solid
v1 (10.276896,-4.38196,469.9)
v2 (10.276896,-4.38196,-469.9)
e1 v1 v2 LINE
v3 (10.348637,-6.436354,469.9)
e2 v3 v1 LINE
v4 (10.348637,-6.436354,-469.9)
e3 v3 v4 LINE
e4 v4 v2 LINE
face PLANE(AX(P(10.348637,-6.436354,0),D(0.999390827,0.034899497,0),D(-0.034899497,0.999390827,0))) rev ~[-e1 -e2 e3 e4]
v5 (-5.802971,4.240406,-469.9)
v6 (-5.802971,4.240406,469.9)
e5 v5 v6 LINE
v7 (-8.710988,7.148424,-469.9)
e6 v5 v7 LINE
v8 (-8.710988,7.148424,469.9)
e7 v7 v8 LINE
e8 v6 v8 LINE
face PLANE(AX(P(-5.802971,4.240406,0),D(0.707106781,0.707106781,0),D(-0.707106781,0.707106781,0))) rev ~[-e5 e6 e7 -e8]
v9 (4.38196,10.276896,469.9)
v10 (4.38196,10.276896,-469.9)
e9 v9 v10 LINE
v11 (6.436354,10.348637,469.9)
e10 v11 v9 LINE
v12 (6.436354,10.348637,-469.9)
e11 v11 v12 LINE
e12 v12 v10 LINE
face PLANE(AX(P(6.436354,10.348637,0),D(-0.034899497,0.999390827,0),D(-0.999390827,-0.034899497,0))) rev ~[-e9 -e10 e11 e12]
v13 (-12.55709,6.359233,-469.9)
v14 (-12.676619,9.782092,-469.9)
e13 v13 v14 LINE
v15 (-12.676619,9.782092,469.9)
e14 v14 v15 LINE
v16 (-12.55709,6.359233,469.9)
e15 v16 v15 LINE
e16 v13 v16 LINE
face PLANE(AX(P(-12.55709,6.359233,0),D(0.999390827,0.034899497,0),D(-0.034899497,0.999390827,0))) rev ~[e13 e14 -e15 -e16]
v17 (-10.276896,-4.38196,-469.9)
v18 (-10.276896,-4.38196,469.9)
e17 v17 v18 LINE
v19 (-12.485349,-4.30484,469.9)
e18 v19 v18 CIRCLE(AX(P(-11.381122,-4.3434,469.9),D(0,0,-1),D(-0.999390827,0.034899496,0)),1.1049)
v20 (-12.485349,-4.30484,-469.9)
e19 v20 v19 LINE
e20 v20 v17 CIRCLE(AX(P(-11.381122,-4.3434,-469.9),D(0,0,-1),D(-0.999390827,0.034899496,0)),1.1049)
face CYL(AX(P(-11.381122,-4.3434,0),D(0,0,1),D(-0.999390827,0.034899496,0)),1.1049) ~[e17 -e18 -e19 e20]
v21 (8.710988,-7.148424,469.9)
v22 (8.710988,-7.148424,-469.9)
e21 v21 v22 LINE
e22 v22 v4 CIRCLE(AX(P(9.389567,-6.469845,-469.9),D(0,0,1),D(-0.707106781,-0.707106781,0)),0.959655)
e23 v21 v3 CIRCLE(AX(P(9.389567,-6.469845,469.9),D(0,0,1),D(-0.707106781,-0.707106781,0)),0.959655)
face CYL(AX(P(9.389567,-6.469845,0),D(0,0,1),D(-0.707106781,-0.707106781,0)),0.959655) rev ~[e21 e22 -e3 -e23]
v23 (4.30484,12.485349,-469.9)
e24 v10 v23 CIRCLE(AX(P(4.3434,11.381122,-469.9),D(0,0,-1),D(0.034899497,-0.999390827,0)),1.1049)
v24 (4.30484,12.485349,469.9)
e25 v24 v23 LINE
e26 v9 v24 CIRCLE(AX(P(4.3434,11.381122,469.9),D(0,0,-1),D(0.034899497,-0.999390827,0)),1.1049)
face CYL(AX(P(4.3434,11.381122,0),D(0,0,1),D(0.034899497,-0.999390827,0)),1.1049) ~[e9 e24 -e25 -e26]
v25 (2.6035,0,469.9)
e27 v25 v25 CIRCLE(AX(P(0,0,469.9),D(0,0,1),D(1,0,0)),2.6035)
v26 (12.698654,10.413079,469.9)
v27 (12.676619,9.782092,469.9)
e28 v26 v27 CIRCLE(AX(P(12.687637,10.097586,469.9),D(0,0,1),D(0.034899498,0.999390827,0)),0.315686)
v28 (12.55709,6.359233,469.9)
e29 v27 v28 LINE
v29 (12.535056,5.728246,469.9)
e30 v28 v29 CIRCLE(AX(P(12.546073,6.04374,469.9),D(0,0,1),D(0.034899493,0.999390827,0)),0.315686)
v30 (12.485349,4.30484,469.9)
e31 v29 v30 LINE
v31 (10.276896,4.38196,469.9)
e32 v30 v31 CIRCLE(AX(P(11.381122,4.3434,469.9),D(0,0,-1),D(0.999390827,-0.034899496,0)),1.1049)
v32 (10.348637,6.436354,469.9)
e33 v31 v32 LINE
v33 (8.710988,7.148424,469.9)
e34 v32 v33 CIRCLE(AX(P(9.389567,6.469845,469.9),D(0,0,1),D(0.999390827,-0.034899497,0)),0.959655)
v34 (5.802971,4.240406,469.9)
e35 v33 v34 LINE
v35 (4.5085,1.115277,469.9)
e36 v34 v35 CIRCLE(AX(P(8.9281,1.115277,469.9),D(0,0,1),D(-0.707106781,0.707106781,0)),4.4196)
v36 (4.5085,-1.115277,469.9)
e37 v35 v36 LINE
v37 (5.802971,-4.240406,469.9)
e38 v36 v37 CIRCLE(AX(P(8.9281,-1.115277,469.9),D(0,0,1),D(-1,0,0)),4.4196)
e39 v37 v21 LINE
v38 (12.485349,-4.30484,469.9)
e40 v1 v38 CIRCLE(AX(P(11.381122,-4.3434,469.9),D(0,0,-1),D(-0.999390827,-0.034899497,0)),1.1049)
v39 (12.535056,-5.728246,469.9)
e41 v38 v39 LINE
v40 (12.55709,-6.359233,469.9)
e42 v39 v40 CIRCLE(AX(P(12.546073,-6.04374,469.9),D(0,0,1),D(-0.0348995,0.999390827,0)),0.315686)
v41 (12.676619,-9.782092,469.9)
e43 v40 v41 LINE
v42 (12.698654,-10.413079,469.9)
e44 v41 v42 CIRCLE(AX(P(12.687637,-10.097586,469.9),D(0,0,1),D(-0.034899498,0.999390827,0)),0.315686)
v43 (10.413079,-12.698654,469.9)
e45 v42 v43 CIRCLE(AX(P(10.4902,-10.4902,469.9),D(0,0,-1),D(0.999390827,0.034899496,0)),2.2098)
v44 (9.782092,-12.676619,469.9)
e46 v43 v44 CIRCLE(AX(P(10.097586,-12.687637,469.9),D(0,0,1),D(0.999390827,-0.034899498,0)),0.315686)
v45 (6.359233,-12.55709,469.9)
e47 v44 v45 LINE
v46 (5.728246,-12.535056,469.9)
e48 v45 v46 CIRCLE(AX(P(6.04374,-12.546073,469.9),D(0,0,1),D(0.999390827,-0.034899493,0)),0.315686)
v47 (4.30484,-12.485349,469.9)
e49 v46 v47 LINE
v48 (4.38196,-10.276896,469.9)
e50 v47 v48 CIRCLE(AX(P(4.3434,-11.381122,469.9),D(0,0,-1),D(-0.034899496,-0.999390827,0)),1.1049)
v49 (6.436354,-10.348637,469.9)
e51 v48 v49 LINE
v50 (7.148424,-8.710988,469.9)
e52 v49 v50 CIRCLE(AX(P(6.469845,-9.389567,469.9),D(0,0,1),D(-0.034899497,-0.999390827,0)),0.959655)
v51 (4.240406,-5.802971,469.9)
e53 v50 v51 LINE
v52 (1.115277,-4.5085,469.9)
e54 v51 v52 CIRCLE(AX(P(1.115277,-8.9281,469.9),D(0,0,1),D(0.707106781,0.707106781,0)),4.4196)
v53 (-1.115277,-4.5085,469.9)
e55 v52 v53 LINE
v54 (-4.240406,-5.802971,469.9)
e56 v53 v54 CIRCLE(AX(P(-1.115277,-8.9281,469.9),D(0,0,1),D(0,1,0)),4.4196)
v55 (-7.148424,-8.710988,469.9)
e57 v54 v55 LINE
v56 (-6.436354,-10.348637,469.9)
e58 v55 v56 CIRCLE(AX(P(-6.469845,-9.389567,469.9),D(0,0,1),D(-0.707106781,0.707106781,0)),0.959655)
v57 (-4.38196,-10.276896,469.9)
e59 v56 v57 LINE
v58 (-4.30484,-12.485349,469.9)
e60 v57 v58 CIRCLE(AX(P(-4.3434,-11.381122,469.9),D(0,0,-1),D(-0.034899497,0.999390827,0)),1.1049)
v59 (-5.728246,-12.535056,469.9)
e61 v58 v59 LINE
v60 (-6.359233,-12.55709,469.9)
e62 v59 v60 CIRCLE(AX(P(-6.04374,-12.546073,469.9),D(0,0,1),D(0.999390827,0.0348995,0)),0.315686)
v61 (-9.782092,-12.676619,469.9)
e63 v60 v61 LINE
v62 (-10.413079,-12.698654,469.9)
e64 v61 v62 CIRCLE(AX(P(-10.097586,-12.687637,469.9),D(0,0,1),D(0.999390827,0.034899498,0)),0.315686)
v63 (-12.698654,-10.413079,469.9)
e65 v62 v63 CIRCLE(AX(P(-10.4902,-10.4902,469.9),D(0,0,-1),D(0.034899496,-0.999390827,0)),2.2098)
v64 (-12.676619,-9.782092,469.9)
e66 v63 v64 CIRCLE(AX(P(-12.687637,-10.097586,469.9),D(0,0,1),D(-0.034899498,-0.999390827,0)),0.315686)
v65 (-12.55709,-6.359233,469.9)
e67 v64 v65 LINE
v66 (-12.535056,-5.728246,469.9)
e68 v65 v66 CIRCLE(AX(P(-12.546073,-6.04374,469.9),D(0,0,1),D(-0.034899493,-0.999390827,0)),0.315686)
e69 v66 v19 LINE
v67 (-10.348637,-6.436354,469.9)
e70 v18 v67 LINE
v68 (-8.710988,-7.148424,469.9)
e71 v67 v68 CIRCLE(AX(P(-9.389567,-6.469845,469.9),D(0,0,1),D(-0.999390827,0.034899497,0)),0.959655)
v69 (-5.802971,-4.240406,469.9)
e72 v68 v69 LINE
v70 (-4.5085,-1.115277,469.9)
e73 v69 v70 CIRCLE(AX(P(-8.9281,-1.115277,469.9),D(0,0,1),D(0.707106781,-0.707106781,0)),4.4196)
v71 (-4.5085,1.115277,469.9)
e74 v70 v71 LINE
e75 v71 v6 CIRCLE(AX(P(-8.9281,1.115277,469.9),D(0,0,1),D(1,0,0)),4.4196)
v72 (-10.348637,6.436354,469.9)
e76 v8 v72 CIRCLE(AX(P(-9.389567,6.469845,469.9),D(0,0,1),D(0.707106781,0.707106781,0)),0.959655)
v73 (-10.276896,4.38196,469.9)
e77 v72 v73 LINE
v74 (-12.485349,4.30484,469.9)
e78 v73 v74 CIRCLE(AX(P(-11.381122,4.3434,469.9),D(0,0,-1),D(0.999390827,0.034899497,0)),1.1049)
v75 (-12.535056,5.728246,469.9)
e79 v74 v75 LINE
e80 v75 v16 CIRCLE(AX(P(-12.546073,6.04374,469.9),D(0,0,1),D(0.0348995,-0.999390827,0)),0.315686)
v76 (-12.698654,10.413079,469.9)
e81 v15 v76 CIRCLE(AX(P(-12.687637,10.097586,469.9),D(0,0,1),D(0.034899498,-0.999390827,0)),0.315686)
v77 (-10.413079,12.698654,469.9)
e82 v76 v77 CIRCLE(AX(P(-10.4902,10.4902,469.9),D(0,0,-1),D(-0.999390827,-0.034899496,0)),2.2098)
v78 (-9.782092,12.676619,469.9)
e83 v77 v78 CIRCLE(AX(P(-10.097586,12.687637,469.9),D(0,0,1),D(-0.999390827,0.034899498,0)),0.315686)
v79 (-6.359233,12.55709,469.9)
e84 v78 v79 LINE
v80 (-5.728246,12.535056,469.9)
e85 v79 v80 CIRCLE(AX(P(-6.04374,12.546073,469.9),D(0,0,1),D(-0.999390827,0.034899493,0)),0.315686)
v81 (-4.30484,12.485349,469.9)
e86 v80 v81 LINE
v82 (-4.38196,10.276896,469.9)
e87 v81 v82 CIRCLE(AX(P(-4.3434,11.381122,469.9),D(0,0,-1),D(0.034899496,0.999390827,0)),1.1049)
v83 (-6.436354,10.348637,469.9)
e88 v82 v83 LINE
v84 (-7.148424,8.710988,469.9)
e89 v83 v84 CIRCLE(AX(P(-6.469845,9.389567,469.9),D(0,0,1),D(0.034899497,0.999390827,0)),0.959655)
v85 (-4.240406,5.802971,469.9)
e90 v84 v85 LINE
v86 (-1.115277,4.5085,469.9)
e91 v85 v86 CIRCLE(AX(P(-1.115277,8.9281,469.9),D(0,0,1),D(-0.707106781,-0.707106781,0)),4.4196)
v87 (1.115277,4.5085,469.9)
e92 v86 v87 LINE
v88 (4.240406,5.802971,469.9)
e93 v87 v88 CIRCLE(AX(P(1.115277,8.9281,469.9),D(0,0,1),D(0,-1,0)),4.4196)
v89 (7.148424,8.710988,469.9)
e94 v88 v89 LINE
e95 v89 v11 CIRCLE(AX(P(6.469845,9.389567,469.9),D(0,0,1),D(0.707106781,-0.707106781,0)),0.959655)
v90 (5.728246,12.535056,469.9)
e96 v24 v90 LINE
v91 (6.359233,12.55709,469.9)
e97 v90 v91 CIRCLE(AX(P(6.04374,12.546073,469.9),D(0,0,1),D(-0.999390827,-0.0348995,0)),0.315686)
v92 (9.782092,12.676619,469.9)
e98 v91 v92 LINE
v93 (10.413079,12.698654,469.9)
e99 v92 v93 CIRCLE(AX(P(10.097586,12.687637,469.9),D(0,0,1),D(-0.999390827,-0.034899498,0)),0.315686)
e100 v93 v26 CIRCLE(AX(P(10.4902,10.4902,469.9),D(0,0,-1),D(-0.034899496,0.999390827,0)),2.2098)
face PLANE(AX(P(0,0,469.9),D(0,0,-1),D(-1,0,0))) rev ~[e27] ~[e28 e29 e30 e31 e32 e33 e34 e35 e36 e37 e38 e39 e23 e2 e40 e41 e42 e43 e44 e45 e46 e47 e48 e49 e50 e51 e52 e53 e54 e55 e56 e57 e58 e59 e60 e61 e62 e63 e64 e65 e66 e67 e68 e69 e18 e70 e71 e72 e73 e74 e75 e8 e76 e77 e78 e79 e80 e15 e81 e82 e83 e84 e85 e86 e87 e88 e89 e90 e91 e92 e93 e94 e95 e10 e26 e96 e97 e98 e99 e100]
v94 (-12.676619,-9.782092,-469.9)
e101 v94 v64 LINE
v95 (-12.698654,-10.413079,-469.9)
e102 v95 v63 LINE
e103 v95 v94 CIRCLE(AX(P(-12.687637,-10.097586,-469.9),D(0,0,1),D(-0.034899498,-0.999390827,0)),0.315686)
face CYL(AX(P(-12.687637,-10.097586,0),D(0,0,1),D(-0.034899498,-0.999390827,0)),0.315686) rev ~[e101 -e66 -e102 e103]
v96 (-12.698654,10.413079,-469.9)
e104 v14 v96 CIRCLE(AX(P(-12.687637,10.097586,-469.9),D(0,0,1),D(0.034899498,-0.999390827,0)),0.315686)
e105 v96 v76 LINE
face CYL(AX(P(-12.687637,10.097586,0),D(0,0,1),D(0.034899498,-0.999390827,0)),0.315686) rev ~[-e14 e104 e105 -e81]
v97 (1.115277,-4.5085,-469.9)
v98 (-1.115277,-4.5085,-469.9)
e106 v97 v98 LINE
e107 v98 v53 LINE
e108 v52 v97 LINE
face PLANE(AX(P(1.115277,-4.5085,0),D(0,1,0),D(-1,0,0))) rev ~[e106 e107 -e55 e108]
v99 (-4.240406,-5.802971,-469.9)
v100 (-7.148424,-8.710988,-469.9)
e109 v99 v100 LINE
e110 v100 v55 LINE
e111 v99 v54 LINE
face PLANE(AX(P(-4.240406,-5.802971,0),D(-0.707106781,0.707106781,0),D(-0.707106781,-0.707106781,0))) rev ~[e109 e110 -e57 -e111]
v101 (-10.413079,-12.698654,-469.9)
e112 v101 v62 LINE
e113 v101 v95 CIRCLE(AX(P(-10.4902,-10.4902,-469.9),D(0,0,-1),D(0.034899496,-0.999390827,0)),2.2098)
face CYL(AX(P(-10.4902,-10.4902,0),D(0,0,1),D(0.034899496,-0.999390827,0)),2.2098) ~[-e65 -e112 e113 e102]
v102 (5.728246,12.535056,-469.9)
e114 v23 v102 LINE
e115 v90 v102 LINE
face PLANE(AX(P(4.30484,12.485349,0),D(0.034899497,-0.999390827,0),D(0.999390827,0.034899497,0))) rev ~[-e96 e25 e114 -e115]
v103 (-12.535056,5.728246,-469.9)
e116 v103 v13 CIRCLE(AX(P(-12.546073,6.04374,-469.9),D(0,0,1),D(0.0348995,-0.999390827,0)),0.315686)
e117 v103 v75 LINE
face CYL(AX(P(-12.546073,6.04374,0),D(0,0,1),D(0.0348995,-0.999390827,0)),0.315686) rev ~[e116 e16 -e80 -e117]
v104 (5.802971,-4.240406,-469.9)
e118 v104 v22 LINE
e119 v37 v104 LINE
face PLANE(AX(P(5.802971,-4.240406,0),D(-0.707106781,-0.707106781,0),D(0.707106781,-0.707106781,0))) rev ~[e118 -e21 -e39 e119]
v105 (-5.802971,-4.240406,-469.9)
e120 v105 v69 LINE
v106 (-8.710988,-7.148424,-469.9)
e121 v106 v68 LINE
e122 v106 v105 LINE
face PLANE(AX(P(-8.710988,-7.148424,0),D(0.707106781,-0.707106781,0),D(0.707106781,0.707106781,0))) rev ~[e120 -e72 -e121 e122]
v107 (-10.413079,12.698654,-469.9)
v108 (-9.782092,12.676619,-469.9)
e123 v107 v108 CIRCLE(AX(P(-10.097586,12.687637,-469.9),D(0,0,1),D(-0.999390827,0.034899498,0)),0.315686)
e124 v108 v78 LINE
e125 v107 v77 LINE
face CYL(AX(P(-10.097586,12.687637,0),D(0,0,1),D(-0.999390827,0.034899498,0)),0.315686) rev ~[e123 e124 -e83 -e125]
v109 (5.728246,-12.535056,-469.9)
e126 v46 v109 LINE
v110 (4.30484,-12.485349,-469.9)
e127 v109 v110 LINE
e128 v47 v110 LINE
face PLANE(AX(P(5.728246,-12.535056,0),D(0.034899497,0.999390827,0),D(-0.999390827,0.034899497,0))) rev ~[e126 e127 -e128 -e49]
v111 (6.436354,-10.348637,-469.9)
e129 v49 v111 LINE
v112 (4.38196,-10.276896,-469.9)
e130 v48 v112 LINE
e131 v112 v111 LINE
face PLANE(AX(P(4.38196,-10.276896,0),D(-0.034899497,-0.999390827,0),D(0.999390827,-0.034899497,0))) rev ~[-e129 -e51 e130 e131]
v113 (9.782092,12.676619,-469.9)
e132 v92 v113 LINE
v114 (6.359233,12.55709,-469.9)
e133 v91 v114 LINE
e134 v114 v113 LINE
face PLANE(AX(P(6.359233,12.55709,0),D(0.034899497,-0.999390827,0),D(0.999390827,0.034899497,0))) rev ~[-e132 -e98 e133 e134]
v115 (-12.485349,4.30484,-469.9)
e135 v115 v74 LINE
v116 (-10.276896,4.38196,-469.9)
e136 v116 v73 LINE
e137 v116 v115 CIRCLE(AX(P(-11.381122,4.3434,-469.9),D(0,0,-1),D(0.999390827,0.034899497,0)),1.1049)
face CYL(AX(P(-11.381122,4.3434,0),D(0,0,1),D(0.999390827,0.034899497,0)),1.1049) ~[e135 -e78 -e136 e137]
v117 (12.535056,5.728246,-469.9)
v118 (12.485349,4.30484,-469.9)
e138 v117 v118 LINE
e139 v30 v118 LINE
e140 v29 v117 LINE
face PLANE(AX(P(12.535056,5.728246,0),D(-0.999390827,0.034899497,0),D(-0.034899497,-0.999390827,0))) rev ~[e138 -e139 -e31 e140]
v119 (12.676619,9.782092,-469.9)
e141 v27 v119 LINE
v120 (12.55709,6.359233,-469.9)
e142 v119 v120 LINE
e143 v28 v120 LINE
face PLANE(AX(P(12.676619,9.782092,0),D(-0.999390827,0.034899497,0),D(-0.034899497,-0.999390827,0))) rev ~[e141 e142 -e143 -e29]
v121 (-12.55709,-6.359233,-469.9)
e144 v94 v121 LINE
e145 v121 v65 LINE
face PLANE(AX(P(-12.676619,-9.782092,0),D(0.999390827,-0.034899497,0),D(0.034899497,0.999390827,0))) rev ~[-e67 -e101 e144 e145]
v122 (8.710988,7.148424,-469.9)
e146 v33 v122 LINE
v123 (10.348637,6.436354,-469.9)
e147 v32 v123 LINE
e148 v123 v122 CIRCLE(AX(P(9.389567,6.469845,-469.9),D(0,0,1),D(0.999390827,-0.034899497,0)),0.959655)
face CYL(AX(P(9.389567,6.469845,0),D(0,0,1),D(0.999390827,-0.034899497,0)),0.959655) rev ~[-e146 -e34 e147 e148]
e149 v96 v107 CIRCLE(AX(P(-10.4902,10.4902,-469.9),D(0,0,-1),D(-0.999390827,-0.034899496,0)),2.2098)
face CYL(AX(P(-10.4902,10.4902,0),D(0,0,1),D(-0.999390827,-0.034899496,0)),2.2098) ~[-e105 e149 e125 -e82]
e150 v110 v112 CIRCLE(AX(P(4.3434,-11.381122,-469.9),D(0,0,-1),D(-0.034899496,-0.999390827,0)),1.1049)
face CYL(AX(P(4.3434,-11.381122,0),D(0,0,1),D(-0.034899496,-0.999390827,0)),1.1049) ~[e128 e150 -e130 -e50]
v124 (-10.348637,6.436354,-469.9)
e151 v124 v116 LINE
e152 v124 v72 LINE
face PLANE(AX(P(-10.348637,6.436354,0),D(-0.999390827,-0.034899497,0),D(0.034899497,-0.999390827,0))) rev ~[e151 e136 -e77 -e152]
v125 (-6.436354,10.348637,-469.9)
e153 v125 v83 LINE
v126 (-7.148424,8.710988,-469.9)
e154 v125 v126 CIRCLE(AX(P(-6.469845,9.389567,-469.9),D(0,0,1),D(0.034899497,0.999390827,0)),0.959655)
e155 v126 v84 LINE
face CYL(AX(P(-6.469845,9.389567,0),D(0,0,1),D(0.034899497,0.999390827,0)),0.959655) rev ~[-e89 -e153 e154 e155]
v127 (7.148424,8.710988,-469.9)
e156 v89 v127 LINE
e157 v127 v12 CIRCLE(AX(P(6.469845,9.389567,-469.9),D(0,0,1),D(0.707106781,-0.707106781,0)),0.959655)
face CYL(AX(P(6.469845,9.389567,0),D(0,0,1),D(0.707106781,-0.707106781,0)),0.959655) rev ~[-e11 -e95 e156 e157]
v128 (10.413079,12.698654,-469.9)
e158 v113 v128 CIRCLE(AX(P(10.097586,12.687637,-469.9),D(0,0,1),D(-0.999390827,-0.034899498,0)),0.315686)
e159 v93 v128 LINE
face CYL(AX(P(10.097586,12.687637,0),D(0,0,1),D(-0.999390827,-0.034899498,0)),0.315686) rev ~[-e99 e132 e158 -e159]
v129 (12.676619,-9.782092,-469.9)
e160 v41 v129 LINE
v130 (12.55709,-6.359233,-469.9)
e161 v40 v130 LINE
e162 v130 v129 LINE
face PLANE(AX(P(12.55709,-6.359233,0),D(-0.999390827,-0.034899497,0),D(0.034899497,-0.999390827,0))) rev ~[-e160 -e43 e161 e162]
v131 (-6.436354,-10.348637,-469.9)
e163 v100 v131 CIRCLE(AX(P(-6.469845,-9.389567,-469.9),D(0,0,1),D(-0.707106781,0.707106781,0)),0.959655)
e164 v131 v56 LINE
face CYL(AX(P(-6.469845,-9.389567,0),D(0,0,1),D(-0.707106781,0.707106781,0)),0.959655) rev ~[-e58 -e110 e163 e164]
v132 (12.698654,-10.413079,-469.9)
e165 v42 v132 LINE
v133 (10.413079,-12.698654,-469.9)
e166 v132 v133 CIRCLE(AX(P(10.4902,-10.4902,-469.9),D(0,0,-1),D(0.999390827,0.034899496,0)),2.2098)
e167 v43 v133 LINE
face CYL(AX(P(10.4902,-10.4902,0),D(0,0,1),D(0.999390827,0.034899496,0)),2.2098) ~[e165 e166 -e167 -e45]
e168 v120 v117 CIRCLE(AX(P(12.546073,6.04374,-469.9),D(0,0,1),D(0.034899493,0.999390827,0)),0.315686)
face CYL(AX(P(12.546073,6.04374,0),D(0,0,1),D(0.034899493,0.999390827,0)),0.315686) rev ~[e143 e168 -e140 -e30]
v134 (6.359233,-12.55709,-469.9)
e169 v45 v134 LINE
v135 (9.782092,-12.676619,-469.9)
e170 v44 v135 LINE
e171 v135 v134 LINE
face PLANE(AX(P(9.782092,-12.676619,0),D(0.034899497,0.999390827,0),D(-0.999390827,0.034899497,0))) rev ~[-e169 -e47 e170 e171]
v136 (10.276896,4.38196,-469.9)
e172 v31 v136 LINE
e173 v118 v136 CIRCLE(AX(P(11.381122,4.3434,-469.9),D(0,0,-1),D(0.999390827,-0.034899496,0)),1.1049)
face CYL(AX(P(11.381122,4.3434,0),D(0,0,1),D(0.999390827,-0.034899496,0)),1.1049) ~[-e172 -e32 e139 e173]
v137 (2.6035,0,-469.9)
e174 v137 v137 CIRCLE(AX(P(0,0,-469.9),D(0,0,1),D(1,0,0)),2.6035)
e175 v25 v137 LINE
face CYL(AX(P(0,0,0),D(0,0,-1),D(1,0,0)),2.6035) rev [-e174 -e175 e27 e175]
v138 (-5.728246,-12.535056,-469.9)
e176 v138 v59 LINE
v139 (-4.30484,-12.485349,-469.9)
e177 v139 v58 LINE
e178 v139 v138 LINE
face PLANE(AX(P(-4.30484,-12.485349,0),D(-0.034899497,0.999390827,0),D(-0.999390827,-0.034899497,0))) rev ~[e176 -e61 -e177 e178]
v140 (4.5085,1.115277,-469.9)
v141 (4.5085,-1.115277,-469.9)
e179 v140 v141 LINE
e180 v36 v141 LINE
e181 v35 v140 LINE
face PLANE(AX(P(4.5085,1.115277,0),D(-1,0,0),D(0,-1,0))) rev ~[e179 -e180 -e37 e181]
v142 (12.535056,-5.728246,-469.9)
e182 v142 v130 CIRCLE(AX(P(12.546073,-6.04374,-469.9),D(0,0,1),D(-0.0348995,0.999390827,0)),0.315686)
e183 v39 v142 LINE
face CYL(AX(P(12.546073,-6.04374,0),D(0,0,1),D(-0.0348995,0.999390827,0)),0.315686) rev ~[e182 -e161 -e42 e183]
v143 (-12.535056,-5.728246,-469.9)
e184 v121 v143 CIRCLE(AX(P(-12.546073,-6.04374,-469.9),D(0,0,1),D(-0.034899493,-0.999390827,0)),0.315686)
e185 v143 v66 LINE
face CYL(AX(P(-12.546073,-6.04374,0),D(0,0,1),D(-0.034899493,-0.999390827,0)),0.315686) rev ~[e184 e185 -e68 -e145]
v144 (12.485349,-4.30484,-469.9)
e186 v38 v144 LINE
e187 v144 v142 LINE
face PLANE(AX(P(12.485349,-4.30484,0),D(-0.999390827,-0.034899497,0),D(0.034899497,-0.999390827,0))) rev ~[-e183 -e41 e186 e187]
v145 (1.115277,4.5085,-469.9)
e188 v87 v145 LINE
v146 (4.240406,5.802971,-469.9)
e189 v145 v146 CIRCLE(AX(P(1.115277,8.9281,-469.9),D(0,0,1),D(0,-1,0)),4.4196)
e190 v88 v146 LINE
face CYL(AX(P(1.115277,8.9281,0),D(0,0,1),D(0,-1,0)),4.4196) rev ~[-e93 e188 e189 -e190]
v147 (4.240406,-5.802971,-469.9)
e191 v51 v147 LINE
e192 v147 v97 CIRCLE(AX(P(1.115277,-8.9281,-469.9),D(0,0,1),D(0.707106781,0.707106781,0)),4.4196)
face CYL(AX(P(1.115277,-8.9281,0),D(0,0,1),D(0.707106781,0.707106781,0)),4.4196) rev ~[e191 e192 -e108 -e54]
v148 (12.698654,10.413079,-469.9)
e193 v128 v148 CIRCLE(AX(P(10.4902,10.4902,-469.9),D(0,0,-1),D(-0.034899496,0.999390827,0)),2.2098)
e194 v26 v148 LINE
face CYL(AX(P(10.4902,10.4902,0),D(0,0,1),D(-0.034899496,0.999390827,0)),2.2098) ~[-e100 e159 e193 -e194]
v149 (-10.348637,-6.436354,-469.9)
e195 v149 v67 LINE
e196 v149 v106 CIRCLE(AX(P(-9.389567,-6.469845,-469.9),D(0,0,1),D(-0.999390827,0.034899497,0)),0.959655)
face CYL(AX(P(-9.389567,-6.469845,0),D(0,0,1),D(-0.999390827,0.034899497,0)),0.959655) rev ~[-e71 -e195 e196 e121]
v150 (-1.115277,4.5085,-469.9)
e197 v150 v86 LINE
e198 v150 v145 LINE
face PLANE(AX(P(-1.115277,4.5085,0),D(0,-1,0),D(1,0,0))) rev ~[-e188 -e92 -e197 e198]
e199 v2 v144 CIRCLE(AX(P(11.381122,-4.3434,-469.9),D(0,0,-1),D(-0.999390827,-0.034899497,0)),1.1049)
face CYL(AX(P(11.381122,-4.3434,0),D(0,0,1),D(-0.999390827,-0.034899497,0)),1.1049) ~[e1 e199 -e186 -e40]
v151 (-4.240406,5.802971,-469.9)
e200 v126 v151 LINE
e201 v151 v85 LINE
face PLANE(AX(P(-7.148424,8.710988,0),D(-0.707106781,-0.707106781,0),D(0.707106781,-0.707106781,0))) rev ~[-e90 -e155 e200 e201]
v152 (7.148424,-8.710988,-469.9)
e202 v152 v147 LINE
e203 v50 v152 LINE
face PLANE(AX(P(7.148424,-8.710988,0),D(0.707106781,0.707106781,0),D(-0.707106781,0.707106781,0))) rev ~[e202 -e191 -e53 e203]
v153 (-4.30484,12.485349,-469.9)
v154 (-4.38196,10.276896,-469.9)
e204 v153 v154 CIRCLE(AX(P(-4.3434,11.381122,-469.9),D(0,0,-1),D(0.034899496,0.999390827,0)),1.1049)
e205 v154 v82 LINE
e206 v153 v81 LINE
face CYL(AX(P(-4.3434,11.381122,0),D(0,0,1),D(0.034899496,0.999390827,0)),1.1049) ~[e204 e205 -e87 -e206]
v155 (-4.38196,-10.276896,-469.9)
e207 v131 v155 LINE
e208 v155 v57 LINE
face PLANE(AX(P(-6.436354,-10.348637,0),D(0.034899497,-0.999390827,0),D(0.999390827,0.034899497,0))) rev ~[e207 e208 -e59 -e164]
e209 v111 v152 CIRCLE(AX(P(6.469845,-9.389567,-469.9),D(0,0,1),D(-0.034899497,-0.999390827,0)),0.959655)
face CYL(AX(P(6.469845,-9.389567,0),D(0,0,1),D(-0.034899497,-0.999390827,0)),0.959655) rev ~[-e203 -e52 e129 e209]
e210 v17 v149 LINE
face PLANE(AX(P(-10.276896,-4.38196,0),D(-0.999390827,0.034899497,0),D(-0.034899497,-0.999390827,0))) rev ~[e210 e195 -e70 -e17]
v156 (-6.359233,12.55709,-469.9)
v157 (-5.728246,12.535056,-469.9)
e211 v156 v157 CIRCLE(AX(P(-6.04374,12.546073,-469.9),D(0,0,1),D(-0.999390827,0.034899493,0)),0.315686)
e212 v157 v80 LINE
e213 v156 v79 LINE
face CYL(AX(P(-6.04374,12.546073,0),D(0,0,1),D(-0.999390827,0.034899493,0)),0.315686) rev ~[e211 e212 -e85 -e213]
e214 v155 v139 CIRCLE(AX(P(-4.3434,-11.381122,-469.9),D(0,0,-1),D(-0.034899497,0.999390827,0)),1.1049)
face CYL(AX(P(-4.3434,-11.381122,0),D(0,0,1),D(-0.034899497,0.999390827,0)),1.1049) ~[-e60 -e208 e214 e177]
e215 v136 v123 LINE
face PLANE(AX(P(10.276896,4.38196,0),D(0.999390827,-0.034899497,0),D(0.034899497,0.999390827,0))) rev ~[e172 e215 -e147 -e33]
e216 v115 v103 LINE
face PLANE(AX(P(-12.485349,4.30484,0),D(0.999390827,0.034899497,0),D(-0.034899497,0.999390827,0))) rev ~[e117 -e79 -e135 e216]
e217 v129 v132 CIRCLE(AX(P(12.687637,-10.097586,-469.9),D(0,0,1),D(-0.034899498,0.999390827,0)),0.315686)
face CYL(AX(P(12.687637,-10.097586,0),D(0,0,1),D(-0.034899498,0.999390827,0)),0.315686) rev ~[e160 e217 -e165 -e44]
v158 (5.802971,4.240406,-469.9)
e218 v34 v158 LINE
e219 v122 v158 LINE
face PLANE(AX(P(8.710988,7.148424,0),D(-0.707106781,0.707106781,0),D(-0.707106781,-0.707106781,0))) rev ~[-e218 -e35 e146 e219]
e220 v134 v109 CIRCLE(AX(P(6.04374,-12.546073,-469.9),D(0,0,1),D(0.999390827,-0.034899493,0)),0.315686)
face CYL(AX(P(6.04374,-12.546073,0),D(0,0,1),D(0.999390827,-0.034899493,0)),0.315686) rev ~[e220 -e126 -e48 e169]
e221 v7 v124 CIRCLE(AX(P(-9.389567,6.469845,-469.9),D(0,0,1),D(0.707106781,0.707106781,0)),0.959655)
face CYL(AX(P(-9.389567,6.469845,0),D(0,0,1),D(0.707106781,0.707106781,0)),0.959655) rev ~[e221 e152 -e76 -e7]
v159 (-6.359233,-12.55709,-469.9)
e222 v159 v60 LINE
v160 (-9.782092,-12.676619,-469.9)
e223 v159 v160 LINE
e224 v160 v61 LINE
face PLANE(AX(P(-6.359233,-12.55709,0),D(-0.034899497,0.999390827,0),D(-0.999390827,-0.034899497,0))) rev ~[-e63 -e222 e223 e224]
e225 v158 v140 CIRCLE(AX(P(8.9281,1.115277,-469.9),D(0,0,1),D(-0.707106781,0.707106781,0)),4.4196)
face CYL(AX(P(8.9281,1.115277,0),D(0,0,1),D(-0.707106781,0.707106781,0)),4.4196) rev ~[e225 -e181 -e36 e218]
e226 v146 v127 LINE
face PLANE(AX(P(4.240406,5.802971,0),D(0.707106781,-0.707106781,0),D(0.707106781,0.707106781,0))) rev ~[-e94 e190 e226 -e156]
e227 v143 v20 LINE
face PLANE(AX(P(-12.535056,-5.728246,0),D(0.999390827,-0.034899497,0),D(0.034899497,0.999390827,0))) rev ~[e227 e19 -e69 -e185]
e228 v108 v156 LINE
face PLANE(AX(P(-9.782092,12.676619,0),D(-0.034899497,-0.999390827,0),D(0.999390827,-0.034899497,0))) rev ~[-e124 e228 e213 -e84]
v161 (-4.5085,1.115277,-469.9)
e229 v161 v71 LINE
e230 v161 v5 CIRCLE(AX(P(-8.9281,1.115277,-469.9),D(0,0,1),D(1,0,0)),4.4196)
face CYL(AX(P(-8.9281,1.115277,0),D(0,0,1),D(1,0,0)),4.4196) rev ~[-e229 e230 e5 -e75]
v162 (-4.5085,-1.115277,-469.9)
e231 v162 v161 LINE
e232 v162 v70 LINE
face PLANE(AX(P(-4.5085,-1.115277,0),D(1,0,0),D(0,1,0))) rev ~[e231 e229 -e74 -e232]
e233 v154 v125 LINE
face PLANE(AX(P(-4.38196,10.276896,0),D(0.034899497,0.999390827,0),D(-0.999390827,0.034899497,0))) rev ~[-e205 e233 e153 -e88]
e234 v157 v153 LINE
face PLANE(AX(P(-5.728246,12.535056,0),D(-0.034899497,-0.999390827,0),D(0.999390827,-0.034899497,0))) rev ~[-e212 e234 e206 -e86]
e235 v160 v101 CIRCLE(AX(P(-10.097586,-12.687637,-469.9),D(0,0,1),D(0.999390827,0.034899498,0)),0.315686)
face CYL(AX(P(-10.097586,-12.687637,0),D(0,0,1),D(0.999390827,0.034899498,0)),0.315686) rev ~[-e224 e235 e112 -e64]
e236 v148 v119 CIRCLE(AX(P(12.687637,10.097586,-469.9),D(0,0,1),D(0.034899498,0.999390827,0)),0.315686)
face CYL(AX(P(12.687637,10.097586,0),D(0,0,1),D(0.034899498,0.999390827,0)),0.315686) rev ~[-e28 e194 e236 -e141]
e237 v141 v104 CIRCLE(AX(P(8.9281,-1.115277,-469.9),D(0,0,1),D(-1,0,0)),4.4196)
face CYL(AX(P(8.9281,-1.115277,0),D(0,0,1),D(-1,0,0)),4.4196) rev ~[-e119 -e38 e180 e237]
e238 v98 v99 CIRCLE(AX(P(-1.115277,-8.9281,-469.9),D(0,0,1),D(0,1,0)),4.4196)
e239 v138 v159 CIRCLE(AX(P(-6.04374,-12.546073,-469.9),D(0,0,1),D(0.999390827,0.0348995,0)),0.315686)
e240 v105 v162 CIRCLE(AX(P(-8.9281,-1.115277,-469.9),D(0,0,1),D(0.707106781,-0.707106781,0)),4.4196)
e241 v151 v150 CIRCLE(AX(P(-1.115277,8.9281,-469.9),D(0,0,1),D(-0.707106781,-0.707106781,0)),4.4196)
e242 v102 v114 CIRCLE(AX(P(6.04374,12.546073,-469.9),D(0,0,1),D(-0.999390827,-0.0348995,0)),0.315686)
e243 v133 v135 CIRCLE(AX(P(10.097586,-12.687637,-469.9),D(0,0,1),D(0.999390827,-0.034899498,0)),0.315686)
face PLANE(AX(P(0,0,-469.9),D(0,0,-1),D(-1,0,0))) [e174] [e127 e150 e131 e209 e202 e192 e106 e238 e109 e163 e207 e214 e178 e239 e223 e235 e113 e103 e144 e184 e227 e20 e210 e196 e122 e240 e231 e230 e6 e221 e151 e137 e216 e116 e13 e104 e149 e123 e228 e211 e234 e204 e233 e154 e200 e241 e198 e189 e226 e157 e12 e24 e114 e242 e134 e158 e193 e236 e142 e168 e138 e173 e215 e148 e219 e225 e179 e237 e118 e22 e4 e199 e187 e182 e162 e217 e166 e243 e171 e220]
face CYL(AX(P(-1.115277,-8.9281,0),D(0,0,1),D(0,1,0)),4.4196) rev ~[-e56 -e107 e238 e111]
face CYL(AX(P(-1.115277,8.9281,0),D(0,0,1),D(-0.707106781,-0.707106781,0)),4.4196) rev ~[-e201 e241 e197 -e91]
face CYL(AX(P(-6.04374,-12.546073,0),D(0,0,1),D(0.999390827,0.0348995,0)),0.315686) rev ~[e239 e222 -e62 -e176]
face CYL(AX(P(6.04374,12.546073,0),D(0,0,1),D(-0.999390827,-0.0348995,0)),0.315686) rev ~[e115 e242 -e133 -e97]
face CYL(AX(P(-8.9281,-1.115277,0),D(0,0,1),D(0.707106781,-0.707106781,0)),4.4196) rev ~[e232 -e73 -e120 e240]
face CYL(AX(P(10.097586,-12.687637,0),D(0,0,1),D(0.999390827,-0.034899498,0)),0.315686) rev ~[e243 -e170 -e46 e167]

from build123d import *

# Parameters (mm, degrees)
SKETCH3_R      = 2.6035
EXTRUDE1_DEPTH = 469.9


with BuildPart() as part:
    # Sketch3 → Extrude1 (new body, symmetric)
    with BuildSketch(Plane.XY):
        with BuildLine():
            Line((-1.115277175, 4.5085), (1.115277175, 4.5085))
            ThreePointArc((1.115277175, 4.5085), (2.806584872, 4.844922018), (4.240406305, 5.80297087))
            Line((4.240406305, 5.80297087), (7.148423664, 8.710988229))
            ThreePointArc((7.148423664, 8.710988229), (7.349906316, 9.772227925), (6.436353897, 10.348636575))
            Line((6.436353897, 10.348636575), (4.381960454, 10.276895575))
            ThreePointArc((4.381960454, 10.276895575), (3.239173075, 11.342562046), (4.304839546, 12.485349424))
            Line((4.304839546, 12.485349424), (5.728246175, 12.535055879))
            ThreePointArc((5.728246175, 12.535055879), (6.054756855, 12.230579745), (6.35923299, 12.557090424))
            Line((6.35923299, 12.557090424), (9.782092278, 12.676619304))
            ThreePointArc((9.782092278, 12.676619304), (10.108602958, 12.37214317), (10.413079092, 12.69865385))
            ThreePointArc((10.413079092, 12.69865385), (12.052764565, 12.052764565), (12.69865385, 10.413079092))
            ThreePointArc((12.69865385, 10.413079092), (12.37214317, 10.108602958), (12.676619304, 9.782092278))
            Line((12.676619304, 9.782092278), (12.557090424, 6.35923299))
            ThreePointArc((12.557090424, 6.35923299), (12.230579745, 6.054756855), (12.535055879, 5.728246175))
            Line((12.535055879, 5.728246175), (12.485349424, 4.304839546))
            ThreePointArc((12.485349424, 4.304839546), (11.342562046, 3.239173075), (10.276895575, 4.381960454))
            Line((10.276895575, 4.381960454), (10.348636575, 6.436353897))
            ThreePointArc((10.348636575, 6.436353897), (9.772227925, 7.349906316), (8.710988229, 7.148423664))
            Line((8.710988229, 7.148423664), (5.80297087, 4.240406305))
            ThreePointArc((5.80297087, 4.240406305), (4.844922018, 2.806584872), (4.5085, 1.115277175))
            Line((4.5085, 1.115277175), (4.5085, -1.115277175))
            ThreePointArc((4.5085, -1.115277175), (4.844922018, -2.806584872), (5.80297087, -4.240406305))
            Line((5.80297087, -4.240406305), (8.710988229, -7.148423664))
            ThreePointArc((8.710988229, -7.148423664), (9.772227925, -7.349906316), (10.348636575, -6.436353897))
            Line((10.348636575, -6.436353897), (10.276895575, -4.381960454))
            ThreePointArc((10.276895575, -4.381960454), (11.342562046, -3.239173075), (12.485349424, -4.304839546))
            Line((12.485349424, -4.304839546), (12.535055879, -5.728246175))
            ThreePointArc((12.535055879, -5.728246175), (12.230579745, -6.054756855), (12.557090424, -6.35923299))
            Line((12.557090424, -6.35923299), (12.676619304, -9.782092278))
            ThreePointArc((12.676619304, -9.782092278), (12.37214317, -10.108602958), (12.69865385, -10.413079092))
            ThreePointArc((12.69865385, -10.413079092), (12.052764565, -12.052764565), (10.413079092, -12.69865385))
            ThreePointArc((10.413079092, -12.69865385), (10.108602958, -12.37214317), (9.782092278, -12.676619304))
            Line((9.782092278, -12.676619304), (6.35923299, -12.557090424))
            ThreePointArc((6.35923299, -12.557090424), (6.054756855, -12.230579745), (5.728246175, -12.535055879))
            Line((5.728246175, -12.535055879), (4.304839546, -12.485349424))
            ThreePointArc((4.304839546, -12.485349424), (3.239173075, -11.342562046), (4.381960454, -10.276895575))
            Line((4.381960454, -10.276895575), (6.436353897, -10.348636575))
            ThreePointArc((6.436353897, -10.348636575), (7.349906316, -9.772227925), (7.148423664, -8.710988229))
            Line((7.148423664, -8.710988229), (4.240406305, -5.80297087))
            ThreePointArc((4.240406305, -5.80297087), (2.806584872, -4.844922018), (1.115277175, -4.5085))
            Line((1.115277175, -4.5085), (-1.115277175, -4.5085))
            ThreePointArc((-1.115277175, -4.5085), (-2.806584872, -4.844922018), (-4.240406305, -5.80297087))
            Line((-4.240406305, -5.80297087), (-7.148423664, -8.710988229))
            ThreePointArc((-7.148423664, -8.710988229), (-7.349906316, -9.772227925), (-6.436353897, -10.348636575))
            Line((-6.436353897, -10.348636575), (-4.381960454, -10.276895575))
            ThreePointArc((-4.381960454, -10.276895575), (-3.239173075, -11.342562046), (-4.304839546, -12.485349424))
            Line((-4.304839546, -12.485349424), (-5.728246175, -12.535055879))
            ThreePointArc((-5.728246175, -12.535055879), (-6.054756855, -12.230579745), (-6.35923299, -12.557090424))
            Line((-6.35923299, -12.557090424), (-9.782092278, -12.676619304))
            ThreePointArc((-9.782092278, -12.676619304), (-10.108602958, -12.37214317), (-10.413079092, -12.69865385))
            ThreePointArc((-10.413079092, -12.69865385), (-12.052764565, -12.052764565), (-12.69865385, -10.413079092))
            ThreePointArc((-12.69865385, -10.413079092), (-12.37214317, -10.108602958), (-12.676619304, -9.782092278))
            Line((-12.676619304, -9.782092278), (-12.557090424, -6.35923299))
            ThreePointArc((-12.557090424, -6.35923299), (-12.230579745, -6.054756855), (-12.535055879, -5.728246175))
            Line((-12.535055879, -5.728246175), (-12.485349424, -4.304839546))
            ThreePointArc((-12.485349424, -4.304839546), (-11.342562046, -3.239173075), (-10.276895575, -4.381960454))
            Line((-10.276895575, -4.381960454), (-10.348636575, -6.436353897))
            ThreePointArc((-10.348636575, -6.436353897), (-9.772227925, -7.349906316), (-8.710988229, -7.148423664))
            Line((-8.710988229, -7.148423664), (-5.80297087, -4.240406305))
            ThreePointArc((-5.80297087, -4.240406305), (-4.844922018, -2.806584872), (-4.5085, -1.115277175))
            Line((-4.5085, -1.115277175), (-4.5085, 1.115277175))
            ThreePointArc((-4.5085, 1.115277175), (-4.844922018, 2.806584872), (-5.80297087, 4.240406305))
            Line((-5.80297087, 4.240406305), (-8.710988229, 7.148423664))
            ThreePointArc((-8.710988229, 7.148423664), (-9.772227925, 7.349906316), (-10.348636575, 6.436353897))
            Line((-10.348636575, 6.436353897), (-10.276895575, 4.381960454))
            ThreePointArc((-10.276895575, 4.381960454), (-11.342562046, 3.239173075), (-12.485349424, 4.304839546))
            Line((-12.485349424, 4.304839546), (-12.535055879, 5.728246175))
            ThreePointArc((-12.535055879, 5.728246175), (-12.230579745, 6.054756855), (-12.557090424, 6.35923299))
            Line((-12.557090424, 6.35923299), (-12.676619304, 9.782092278))
            ThreePointArc((-12.676619304, 9.782092278), (-12.37214317, 10.108602958), (-12.69865385, 10.413079092))
            ThreePointArc((-12.69865385, 10.413079092), (-12.052764565, 12.052764565), (-10.413079092, 12.69865385))
            ThreePointArc((-10.413079092, 12.69865385), (-10.108602958, 12.37214317), (-9.782092278, 12.676619304))
            Line((-9.782092278, 12.676619304), (-6.35923299, 12.557090424))
            ThreePointArc((-6.35923299, 12.557090424), (-6.054756855, 12.230579745), (-5.728246175, 12.535055879))
            Line((-5.728246175, 12.535055879), (-4.304839546, 12.485349424))
            ThreePointArc((-4.304839546, 12.485349424), (-3.239173075, 11.342562046), (-4.381960454, 10.276895575))
            Line((-4.381960454, 10.276895575), (-6.436353897, 10.348636575))
            ThreePointArc((-6.436353897, 10.348636575), (-7.349906316, 9.772227925), (-7.148423664, 8.710988229))
            Line((-7.148423664, 8.710988229), (-4.240406305, 5.80297087))
            ThreePointArc((-4.240406305, 5.80297087), (-2.806584872, 4.844922018), (-1.115277175, 4.5085))
        make_face()
        Circle(SKETCH3_R, mode=Mode.SUBTRACT)
    extrude(amount=EXTRUDE1_DEPTH, both=True)


solid = part.part
